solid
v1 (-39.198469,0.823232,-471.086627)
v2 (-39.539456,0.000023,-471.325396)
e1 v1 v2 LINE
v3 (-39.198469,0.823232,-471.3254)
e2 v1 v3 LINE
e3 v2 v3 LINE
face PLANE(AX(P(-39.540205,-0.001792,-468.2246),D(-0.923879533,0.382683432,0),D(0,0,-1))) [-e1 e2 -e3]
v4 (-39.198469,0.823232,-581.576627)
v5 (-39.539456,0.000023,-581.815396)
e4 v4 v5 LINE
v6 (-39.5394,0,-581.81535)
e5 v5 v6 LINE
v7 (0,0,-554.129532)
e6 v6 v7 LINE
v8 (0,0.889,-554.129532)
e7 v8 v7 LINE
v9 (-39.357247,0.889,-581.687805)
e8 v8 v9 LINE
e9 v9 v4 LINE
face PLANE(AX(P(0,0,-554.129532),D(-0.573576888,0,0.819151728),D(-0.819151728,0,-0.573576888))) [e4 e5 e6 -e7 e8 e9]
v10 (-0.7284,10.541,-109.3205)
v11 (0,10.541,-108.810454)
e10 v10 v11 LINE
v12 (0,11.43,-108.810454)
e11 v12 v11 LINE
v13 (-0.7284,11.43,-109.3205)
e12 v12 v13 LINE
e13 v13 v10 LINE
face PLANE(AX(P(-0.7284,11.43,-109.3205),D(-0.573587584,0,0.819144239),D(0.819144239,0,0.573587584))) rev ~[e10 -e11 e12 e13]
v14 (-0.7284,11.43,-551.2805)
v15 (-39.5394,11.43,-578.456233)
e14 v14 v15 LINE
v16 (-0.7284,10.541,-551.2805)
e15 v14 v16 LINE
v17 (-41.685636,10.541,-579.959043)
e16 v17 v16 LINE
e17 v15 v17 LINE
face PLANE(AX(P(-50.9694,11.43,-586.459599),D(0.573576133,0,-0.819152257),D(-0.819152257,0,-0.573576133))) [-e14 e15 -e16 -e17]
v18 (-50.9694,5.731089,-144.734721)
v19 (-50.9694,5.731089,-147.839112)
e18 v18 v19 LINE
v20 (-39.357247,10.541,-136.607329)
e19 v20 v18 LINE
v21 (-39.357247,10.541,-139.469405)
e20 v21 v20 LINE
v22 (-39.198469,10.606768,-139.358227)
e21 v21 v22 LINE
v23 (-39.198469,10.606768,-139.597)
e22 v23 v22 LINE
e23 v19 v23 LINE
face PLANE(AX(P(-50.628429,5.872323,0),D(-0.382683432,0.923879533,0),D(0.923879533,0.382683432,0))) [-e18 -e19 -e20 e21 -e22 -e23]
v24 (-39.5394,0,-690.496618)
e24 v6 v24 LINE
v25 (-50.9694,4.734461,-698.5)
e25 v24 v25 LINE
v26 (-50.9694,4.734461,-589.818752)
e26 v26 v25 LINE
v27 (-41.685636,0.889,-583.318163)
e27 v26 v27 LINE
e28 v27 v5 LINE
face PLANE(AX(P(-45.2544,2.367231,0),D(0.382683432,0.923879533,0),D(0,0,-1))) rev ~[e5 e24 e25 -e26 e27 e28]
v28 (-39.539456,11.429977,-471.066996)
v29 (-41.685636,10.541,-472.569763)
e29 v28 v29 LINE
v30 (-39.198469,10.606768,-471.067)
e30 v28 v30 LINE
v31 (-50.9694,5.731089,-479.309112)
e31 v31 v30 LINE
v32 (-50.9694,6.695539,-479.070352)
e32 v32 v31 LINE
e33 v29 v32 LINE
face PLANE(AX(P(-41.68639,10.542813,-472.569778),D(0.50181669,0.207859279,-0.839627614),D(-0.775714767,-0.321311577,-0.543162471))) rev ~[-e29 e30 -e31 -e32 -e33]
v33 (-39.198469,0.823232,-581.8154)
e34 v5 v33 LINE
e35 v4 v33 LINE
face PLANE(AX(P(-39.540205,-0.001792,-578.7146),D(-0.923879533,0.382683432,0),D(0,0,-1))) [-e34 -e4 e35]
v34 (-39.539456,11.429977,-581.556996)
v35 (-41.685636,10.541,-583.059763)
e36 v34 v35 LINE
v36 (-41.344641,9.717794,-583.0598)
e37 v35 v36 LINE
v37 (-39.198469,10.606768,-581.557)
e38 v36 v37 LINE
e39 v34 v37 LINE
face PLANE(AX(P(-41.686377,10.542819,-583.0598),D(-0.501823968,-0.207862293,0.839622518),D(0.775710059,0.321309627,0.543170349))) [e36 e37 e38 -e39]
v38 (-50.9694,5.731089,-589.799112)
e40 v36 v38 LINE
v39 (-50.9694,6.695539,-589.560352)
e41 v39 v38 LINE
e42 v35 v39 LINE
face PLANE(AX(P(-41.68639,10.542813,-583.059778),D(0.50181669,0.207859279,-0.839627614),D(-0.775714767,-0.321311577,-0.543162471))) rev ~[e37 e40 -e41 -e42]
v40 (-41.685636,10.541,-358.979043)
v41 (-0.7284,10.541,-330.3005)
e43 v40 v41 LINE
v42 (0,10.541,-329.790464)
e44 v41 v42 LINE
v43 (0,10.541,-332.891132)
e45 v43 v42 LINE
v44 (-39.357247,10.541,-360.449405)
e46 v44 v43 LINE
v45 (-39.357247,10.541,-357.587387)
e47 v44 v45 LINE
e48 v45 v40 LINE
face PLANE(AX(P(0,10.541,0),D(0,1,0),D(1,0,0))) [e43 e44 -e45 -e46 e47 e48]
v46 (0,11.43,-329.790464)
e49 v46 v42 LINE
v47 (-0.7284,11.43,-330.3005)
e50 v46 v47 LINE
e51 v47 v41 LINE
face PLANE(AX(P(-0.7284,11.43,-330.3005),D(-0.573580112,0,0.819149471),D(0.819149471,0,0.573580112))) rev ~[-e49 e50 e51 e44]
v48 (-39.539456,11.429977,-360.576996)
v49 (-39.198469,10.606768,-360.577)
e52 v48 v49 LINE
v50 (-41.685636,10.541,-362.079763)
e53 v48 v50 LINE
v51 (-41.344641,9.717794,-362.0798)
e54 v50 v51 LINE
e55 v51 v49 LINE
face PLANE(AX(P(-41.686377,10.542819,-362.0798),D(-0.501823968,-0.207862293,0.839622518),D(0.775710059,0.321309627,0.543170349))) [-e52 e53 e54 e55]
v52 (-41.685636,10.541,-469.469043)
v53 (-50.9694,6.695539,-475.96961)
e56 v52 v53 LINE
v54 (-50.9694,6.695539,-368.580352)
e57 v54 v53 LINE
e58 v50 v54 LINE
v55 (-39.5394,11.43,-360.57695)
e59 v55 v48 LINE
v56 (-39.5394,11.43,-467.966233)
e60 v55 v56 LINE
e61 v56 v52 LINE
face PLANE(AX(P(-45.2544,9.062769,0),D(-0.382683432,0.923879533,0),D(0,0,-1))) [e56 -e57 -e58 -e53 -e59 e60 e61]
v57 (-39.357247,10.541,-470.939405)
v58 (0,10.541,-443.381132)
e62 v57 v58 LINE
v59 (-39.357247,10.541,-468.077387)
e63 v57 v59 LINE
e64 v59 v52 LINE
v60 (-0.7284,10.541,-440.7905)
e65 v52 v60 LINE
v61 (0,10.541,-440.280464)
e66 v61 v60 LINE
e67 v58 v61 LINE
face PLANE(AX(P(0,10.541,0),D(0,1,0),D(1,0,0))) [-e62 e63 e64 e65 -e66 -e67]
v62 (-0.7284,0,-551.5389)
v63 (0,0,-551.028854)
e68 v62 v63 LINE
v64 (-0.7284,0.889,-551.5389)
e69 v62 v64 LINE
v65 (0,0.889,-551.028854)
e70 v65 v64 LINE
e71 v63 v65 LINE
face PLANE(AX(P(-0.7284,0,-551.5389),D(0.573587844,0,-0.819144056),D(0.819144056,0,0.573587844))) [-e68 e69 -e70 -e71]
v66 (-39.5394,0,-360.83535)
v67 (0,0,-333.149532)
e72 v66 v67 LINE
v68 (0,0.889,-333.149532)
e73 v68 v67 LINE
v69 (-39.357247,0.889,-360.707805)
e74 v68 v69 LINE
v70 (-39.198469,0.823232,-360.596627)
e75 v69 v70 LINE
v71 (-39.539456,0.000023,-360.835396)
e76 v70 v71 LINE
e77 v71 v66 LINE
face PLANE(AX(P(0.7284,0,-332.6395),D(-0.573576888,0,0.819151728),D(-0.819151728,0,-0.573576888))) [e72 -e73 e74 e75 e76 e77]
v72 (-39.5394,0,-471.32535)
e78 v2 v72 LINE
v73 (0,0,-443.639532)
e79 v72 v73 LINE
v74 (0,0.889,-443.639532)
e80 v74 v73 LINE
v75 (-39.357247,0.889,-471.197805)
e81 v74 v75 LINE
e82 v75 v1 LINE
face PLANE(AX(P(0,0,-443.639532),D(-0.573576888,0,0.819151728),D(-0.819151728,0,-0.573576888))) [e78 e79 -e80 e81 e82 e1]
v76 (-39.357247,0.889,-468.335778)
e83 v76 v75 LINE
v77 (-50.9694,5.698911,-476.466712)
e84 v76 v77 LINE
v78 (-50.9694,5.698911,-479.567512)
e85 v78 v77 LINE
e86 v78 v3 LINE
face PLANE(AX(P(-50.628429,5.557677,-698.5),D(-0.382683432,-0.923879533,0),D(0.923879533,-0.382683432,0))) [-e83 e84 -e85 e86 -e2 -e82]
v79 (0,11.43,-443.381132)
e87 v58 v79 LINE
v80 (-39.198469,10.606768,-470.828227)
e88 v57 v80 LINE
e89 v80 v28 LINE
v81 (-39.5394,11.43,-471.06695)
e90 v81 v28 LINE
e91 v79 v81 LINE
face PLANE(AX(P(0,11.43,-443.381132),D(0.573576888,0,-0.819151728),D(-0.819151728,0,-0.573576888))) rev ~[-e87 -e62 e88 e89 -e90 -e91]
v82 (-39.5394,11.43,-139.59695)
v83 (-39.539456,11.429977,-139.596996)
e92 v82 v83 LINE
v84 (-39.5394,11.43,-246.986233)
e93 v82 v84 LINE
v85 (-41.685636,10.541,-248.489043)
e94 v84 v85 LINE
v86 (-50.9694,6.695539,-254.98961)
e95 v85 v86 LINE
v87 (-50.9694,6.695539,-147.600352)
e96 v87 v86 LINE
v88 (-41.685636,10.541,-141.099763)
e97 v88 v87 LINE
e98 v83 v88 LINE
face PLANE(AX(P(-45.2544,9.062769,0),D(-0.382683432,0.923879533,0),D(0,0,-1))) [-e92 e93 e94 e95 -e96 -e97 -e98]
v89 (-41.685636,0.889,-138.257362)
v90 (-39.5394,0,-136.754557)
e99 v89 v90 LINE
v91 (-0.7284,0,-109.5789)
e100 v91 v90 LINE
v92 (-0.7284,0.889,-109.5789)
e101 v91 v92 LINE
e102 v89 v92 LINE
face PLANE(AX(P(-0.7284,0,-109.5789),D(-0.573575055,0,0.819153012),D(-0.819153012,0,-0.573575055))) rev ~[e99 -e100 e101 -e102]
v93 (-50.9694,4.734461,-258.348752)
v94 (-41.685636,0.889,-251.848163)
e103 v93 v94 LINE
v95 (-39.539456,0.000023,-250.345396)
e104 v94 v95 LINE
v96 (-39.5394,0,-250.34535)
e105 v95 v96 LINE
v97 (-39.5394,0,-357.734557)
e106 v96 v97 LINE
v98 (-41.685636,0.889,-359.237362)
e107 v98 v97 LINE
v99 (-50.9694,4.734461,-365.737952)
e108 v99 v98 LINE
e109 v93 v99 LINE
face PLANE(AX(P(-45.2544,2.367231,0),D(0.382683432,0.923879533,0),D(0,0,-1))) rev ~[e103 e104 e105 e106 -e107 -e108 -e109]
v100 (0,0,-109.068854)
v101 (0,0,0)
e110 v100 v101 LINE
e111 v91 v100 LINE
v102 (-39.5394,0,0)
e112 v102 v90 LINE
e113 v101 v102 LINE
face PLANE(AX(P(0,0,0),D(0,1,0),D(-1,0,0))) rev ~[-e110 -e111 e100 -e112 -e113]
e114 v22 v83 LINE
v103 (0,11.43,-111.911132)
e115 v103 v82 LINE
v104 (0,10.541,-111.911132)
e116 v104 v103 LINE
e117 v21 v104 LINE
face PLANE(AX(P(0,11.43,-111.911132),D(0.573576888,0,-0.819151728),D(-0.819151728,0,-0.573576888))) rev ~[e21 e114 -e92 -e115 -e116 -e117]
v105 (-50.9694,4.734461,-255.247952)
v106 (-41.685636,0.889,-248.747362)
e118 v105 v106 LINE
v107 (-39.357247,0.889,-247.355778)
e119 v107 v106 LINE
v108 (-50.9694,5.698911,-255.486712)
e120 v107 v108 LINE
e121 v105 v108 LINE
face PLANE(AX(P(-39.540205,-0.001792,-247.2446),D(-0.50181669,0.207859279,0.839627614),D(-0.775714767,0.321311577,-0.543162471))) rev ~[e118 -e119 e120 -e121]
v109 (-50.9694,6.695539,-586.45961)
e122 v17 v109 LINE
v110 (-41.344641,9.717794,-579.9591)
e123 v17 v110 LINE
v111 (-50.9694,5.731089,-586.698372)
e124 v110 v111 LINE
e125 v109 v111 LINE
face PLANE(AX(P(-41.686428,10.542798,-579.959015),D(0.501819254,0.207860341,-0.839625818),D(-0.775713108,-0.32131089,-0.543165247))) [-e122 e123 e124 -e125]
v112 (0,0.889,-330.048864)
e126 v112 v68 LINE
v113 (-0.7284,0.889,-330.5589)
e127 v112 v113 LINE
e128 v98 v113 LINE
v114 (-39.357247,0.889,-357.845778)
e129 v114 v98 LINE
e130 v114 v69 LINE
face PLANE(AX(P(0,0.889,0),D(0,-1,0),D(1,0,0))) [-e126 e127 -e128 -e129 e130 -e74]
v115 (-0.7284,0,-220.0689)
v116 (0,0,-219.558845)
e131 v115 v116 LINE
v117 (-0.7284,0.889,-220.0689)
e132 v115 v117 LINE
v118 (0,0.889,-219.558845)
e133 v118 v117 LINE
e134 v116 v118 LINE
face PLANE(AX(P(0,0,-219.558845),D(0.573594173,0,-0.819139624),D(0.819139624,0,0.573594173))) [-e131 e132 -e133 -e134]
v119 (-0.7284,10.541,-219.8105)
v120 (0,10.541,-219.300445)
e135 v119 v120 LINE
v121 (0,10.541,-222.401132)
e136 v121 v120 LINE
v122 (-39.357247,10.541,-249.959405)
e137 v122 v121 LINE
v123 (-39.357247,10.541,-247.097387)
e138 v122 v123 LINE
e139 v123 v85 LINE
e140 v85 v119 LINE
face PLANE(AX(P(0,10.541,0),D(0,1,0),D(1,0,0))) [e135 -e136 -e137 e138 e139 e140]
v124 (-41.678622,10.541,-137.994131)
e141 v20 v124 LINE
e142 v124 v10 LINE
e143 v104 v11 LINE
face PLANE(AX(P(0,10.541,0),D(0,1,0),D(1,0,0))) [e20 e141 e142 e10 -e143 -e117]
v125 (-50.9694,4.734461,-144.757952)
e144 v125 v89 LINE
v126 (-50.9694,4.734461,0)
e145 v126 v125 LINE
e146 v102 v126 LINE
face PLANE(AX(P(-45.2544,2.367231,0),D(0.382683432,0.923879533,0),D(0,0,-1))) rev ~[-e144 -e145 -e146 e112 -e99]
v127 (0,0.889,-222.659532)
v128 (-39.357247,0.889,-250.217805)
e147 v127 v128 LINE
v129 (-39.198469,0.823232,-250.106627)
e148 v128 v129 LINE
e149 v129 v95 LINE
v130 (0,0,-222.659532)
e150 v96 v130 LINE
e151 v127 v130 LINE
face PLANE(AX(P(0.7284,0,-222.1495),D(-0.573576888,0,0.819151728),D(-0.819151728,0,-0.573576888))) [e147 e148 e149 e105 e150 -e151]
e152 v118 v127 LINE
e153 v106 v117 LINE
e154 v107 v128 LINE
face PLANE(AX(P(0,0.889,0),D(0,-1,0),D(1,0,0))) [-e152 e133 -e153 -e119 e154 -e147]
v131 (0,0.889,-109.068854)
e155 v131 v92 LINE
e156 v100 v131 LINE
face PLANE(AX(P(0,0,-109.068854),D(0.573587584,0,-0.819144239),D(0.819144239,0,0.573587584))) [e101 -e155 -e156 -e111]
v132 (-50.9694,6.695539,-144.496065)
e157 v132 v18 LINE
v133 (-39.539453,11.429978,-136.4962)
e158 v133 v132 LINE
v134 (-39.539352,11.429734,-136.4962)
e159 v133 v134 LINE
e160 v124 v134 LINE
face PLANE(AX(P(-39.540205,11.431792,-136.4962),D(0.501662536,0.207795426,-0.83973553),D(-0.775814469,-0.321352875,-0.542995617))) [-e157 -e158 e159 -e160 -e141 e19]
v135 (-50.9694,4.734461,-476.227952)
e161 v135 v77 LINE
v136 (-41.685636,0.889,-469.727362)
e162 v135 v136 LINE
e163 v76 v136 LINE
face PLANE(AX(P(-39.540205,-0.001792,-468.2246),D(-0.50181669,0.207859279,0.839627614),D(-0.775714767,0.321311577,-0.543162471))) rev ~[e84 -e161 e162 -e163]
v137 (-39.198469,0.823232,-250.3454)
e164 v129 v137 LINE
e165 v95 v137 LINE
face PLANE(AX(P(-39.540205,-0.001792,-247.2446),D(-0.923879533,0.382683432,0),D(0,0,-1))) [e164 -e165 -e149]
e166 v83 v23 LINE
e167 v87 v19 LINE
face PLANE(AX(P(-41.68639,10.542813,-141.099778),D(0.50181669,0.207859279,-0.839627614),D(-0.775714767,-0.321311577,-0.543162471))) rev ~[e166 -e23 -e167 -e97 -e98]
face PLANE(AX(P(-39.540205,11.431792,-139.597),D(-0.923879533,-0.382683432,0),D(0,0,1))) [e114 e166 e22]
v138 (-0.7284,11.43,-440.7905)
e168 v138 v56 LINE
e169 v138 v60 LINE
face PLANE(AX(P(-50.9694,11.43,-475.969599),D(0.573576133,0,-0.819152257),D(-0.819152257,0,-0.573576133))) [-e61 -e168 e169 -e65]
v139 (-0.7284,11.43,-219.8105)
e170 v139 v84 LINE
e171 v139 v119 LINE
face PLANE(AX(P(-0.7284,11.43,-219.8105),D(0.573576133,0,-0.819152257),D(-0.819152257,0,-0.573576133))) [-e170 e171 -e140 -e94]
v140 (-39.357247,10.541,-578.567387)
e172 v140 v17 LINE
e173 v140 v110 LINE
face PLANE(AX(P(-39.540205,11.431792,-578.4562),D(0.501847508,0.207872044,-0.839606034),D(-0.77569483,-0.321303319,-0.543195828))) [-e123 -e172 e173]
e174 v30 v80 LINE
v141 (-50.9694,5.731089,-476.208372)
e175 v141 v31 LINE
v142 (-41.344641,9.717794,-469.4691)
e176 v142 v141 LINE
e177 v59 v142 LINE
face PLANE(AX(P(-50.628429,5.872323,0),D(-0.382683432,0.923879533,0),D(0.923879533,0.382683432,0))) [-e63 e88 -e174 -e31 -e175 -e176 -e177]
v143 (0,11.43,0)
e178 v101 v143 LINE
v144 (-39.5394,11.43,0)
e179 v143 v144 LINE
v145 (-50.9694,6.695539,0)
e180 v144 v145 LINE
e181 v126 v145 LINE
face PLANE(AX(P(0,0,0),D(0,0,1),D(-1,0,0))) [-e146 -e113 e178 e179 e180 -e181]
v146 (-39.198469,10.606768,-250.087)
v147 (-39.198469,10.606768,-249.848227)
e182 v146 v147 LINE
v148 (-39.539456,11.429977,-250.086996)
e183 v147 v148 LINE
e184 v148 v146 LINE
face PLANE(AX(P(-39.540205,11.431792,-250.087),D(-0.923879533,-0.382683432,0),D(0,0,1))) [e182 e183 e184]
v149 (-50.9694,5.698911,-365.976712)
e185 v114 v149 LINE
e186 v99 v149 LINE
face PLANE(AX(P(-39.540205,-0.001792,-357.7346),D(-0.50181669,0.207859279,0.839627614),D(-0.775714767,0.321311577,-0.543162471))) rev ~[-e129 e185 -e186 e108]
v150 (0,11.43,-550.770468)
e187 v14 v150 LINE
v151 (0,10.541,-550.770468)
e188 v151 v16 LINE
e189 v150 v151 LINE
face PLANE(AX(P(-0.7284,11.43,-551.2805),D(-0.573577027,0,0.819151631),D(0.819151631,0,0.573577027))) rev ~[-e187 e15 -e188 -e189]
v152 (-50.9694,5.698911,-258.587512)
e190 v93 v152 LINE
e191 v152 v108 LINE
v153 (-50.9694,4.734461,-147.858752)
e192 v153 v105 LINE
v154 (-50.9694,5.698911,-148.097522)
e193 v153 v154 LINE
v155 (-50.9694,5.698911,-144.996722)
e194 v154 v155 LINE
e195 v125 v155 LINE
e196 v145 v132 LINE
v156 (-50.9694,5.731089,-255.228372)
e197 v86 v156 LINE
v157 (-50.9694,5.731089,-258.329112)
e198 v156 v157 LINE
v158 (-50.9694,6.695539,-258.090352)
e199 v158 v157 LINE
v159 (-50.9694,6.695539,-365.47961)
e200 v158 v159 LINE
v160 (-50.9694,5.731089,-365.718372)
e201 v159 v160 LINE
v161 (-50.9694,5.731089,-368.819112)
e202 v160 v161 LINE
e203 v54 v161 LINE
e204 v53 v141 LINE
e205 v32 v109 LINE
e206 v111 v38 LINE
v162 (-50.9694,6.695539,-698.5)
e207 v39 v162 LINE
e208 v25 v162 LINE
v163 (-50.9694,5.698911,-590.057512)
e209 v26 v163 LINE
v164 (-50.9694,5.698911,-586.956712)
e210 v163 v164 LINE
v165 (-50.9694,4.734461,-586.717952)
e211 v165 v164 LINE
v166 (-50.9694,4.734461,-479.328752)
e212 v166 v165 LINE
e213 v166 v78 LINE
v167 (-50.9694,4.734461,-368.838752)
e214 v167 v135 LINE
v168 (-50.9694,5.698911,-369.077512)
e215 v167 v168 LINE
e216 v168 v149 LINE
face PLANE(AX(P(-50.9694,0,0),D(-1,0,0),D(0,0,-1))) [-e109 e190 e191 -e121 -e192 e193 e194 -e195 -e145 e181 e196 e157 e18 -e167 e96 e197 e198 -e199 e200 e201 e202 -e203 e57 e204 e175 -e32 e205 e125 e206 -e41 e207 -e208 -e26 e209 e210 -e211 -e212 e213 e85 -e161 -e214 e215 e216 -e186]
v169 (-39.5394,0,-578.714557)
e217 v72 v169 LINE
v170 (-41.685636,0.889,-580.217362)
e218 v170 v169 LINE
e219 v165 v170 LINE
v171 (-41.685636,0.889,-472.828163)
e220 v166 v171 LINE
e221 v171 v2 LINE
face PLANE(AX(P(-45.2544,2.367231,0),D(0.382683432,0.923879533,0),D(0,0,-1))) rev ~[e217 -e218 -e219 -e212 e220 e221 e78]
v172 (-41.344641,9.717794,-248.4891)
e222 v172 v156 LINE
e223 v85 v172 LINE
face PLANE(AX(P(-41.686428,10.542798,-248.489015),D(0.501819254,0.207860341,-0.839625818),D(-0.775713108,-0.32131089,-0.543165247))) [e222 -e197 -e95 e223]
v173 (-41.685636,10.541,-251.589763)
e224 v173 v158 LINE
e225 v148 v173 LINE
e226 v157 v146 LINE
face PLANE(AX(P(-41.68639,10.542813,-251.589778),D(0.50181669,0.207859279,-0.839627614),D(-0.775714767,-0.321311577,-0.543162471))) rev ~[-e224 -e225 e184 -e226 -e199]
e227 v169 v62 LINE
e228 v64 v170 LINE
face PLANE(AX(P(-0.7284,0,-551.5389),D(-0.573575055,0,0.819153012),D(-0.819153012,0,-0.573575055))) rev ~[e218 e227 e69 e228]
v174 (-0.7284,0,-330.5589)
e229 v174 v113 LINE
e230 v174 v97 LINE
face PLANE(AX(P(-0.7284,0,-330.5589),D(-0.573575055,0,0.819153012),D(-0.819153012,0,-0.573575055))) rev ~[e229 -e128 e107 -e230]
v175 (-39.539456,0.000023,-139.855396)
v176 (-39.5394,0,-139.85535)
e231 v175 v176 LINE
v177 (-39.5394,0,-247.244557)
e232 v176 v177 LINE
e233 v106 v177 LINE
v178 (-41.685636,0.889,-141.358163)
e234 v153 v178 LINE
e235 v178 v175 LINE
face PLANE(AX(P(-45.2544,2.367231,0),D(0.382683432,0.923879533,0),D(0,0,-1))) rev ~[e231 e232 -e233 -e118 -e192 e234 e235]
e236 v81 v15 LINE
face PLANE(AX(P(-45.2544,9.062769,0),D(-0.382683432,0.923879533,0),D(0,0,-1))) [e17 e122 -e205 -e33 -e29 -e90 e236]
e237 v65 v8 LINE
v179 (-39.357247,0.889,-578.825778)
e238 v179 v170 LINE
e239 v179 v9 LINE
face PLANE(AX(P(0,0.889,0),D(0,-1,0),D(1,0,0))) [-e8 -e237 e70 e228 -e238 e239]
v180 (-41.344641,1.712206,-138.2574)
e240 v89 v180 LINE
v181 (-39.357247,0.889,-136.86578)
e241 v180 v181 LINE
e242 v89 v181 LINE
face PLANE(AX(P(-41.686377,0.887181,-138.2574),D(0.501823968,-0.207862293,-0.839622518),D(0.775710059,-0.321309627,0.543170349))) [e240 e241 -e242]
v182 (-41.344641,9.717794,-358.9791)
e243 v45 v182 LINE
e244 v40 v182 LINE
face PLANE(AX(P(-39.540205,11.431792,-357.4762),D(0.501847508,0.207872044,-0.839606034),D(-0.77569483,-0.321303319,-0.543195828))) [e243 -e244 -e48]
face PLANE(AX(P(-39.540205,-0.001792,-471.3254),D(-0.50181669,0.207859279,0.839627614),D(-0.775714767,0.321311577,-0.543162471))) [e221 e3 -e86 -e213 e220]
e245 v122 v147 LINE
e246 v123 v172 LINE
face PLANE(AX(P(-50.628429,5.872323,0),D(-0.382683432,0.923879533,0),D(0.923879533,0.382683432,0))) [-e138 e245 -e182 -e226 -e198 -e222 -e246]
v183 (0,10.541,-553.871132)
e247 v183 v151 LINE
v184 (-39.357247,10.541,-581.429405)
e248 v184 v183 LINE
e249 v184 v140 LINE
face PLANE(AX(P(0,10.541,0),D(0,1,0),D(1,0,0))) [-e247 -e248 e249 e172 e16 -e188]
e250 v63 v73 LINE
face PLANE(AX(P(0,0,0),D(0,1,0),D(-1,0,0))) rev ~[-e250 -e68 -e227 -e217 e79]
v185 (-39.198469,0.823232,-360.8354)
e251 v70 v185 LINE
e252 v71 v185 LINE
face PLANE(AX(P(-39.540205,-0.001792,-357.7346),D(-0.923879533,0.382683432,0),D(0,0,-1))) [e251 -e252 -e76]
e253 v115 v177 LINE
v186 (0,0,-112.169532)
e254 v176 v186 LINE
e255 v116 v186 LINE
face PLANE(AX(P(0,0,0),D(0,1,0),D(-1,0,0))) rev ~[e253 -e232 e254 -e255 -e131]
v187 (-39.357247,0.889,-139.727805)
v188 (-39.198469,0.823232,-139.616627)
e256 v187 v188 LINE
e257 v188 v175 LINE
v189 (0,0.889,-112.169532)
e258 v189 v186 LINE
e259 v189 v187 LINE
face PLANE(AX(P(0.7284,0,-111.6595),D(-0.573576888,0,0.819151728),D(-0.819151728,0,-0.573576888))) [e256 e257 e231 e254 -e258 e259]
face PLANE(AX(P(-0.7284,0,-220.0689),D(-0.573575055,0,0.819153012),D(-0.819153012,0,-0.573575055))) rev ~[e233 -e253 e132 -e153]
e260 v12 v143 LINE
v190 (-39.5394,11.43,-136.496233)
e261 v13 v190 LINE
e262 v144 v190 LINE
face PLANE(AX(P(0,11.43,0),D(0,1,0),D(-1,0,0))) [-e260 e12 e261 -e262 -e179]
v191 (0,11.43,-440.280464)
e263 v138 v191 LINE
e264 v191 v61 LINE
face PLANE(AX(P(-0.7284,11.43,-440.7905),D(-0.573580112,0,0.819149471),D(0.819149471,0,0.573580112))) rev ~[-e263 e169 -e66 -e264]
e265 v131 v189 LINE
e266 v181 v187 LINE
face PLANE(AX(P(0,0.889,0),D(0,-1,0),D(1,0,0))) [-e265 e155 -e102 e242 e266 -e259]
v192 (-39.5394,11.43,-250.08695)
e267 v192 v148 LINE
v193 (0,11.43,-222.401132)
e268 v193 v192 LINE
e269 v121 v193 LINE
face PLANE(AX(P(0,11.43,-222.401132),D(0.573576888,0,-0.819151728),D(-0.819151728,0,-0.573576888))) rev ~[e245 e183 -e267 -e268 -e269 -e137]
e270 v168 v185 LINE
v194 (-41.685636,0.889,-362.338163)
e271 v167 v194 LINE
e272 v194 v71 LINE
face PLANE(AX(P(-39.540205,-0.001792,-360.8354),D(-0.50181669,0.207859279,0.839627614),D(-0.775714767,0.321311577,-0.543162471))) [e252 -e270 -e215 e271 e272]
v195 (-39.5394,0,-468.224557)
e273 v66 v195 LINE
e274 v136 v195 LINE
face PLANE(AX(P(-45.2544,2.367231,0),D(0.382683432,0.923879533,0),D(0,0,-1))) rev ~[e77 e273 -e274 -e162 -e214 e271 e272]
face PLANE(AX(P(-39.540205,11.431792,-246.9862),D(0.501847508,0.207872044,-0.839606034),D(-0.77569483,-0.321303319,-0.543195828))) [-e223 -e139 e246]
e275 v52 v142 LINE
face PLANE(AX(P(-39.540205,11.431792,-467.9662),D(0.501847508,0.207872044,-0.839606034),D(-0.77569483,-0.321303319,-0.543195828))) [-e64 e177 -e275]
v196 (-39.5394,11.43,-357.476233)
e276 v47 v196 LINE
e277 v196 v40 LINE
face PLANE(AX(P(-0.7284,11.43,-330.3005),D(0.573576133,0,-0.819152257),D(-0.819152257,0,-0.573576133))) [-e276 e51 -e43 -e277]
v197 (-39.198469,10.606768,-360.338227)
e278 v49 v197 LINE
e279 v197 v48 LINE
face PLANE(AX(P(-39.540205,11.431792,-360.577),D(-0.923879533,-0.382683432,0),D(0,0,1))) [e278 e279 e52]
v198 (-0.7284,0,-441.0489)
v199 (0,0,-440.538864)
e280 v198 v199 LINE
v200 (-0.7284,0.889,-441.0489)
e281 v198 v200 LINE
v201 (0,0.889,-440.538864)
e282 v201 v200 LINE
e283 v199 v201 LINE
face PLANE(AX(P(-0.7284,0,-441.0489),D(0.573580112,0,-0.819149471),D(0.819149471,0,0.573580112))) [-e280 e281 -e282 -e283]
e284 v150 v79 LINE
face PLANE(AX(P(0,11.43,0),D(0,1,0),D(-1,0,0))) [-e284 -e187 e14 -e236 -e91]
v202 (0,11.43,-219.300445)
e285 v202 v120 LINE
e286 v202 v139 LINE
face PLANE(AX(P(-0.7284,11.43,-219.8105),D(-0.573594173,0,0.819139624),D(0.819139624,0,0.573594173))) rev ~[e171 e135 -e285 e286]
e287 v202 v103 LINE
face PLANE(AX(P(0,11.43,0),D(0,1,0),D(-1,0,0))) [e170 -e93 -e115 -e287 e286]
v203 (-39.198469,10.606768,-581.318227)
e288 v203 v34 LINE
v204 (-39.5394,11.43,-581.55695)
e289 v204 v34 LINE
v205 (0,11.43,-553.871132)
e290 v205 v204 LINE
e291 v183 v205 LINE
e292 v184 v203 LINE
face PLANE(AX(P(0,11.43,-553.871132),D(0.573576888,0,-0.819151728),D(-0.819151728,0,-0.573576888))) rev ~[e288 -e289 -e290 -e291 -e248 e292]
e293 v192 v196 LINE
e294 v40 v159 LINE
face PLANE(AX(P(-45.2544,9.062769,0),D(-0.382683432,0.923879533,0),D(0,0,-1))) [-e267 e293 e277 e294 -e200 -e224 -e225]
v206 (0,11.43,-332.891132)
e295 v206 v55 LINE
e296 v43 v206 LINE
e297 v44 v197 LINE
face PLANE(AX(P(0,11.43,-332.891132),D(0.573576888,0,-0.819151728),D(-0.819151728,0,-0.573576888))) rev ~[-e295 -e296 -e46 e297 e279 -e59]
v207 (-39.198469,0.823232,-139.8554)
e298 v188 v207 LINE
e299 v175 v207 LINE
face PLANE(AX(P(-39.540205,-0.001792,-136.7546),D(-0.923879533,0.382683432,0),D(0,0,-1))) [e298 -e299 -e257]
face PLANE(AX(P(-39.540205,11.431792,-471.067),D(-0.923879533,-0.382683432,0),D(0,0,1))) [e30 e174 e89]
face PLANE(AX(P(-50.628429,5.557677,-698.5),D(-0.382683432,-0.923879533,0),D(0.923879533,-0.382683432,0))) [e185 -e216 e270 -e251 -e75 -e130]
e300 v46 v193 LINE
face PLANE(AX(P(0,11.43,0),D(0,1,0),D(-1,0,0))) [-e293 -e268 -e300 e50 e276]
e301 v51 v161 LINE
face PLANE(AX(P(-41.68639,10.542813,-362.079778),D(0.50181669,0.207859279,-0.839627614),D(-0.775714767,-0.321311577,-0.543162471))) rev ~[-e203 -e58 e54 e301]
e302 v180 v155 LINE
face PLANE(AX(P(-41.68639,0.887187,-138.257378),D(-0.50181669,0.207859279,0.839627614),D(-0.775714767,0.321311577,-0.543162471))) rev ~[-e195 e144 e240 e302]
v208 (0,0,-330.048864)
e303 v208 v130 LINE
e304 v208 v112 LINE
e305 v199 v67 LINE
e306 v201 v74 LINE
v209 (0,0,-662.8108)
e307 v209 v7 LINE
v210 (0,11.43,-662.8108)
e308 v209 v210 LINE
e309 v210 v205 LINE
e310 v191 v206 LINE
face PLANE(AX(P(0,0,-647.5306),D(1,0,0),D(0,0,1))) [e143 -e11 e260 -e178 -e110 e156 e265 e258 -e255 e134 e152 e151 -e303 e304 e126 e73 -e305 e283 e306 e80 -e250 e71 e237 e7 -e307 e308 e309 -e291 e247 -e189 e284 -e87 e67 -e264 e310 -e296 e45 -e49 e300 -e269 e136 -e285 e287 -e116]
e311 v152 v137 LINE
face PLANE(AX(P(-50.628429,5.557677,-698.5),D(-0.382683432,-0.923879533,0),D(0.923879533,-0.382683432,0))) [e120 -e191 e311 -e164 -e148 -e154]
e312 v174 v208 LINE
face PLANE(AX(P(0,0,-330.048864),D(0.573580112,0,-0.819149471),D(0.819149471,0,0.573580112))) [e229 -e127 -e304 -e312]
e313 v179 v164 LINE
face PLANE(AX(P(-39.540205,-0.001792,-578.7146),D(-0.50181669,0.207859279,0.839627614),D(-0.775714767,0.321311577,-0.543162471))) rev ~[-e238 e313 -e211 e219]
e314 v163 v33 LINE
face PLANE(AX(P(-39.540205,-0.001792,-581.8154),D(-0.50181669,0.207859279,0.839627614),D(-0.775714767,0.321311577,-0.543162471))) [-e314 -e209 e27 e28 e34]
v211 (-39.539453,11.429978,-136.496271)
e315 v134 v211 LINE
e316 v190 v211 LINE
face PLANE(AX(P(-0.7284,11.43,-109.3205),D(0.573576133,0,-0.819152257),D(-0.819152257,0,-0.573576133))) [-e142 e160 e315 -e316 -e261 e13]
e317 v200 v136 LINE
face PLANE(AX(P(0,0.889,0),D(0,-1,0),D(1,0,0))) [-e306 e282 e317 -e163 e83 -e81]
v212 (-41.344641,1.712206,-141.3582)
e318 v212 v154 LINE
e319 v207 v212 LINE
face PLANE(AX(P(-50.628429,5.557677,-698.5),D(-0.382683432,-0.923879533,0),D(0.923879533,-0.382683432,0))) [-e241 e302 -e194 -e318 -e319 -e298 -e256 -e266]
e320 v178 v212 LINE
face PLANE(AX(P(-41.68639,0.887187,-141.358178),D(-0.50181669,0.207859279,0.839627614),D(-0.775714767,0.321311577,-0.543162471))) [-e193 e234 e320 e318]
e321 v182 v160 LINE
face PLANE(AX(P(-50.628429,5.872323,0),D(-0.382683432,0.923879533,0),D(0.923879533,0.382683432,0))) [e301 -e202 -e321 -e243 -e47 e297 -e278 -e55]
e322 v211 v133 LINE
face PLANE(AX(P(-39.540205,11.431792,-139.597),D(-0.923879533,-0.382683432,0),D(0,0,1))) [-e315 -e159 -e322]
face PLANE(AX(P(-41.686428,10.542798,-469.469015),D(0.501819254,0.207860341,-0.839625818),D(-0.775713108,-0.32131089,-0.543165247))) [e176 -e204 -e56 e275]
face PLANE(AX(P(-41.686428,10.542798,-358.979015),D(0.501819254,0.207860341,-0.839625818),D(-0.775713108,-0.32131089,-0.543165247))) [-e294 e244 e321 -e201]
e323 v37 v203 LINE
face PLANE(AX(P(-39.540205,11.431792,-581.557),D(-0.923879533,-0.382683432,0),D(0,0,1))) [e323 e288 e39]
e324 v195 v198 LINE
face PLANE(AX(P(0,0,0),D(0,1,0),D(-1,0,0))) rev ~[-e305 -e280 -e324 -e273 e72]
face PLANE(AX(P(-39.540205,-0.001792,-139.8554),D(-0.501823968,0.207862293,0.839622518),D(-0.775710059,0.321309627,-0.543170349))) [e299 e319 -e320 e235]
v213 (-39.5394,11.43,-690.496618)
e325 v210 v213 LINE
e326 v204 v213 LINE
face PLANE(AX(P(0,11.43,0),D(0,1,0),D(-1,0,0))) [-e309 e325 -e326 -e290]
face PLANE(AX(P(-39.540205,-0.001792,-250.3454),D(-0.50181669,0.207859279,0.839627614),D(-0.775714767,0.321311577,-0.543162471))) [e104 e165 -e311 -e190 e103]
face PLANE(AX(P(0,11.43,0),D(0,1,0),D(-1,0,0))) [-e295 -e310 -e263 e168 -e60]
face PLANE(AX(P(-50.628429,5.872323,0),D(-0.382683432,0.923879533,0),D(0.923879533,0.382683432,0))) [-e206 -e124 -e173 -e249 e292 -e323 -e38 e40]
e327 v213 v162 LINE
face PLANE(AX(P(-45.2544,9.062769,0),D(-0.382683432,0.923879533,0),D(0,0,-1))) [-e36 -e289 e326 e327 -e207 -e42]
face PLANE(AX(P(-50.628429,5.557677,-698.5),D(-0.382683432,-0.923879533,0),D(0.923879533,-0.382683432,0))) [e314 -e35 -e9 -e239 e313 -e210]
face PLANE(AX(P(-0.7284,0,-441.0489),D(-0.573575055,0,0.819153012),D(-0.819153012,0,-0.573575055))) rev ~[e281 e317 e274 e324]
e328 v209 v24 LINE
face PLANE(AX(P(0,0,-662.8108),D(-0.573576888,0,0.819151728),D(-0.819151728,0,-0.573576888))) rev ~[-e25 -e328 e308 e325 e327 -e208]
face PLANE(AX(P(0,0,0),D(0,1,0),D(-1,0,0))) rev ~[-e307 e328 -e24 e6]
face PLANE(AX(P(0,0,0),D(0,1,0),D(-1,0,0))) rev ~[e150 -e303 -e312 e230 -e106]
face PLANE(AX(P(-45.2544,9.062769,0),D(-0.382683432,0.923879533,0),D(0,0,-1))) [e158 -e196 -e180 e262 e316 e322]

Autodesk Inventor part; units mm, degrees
ref_plane "YZ Plane" through (0, 0, 0) normal (1, 0, 0) x (0, 1, 0)
ref_plane "XZ Plane" through (0, 0, 0) normal (0, 1, 0) x (-1, 0, 0)
ref_plane "XY Plane" through (0, 0, 0) normal (0, 0, 1) x (1, 0, 0)
sketch "Sketch1" plane through (0, 0, 0) normal (0, 1, 0) x (-1, 0, 0)
  line L0 (0, 0) -> (50.9694, 0)
  line L1 (50.9694, 0) -> (50.9694, -698.5)
  line L2 (0, -662.8108) -> (0, 0)
  line L3 (50.9694, -698.5) -> (133.3543, -698.5) construction
  line L4 (0, -647.5306) -> (0, -662.8108)
  line L5 (0, -662.8108) -> (50.9694, -698.5)
  dimension "d0" = 698.5
  dimension "d10" = 55
extrude "Extrusion1" add sketch "Sketch1" along normal blind 11.43
chamfer "Chamfer1" distance 11.43 angle 22.5 1 edges at (-50.9694, 11.43, -349.25) measured on face at (-33.9796, 11.43, -453.7703)
chamfer "Chamfer2" distance 11.43 angle 22.5 1 edges at (-50.9694, 0, -349.25) measured on face at (-33.9796, 0, -453.7703)
sketch "Sketch2" plane through (0, 11.43, 0) normal (0, 1, 0) x (1, 0, 0)
  line L0 (0, 0) -> (0, 662.8108) projected
  line L1 (0, 662.8108) -> (-39.5394, 690.4966) projected
  line L2 (0, 0) -> (0, 662.8108)
  line L3 (0, 662.8108) -> (0, 552.3208)
  line L4 (0, 552.3208) -> (0, 441.8308)
  line L5 (0, 441.8308) -> (0, 331.3408)
  line L6 (0, 331.3408) -> (0, 220.8508)
  line L7 (0, 220.8508) -> (0, 110.3608)
  line L8 (0, 110.3608) -> (0, -0.1292)
  line L9 (-50.9694, 698.5) -> (-50.9694, 0) projected
  line L10 (0, 552.3208) -> (62.2222, 552.3208) construction
  line L11 (0, 441.8308) -> (75.6755, 441.8308) construction
  line L12 (0, 331.3408) -> (96.3167, 331.3408) construction
  line L13 (0, 220.8508) -> (100.8131, 220.8508) construction
  line L14 (0, 110.3608) -> (129.8585, 110.3608) construction
  line L15 (0.7284, 553.3611) -> (-50.241, 589.0503)
  line L16 (-0.7284, 551.2805) -> (-51.6979, 586.9697)
  line L17 (0.7284, 442.8711) -> (-50.241, 478.5603)
  line L18 (-0.7284, 440.7905) -> (-51.6979, 476.4797)
  line L19 (0.7284, 332.3811) -> (-50.241, 368.0703)
  line L20 (-0.7284, 330.3005) -> (-51.6979, 365.9897)
  line L21 (0.7284, 221.8911) -> (-50.241, 257.5803)
  line L22 (-0.7284, 219.8105) -> (-51.6979, 255.4997)
  line L23 (0.7284, 111.4011) -> (-50.241, 147.0903)
  line L24 (-0.7284, 109.3205) -> (-51.6979, 145.0097)
  line L25 (-55.7095, 150.6945) -> (-51.6979, 145.0097)
  line L26 (6.2736, 109.3205) -> (0.7284, 111.4011)
  line L27 (4.7871, 219.8105) -> (0.7284, 221.8911)
  line L28 (-50.241, 257.5803) -> (-56.0233, 261.6292)
  line L29 (-56.0233, 261.6292) -> (-51.6979, 255.4997)
  line L30 (-0.7284, 109.3205) -> (2.432, 107.1075)
  line L31 (2.432, 107.1075) -> (6.2736, 109.3205)
  line L32 (-50.241, 147.0903) -> (-53.1322, 149.1147)
  line L33 (-53.1322, 149.1147) -> (-55.7095, 150.6945)
  line L34 (-0.7284, 219.8105) -> (1.0647, 218.5549)
  line L35 (1.0647, 218.5549) -> (4.7871, 219.8105)
  line L36 (-0.7284, 330.3005) -> (6.2736, 325.3976)
  line L37 (6.2736, 325.3976) -> (0.7284, 332.3811)
  line L38 (-50.241, 368.0703) -> (-56.0233, 372.1192)
  line L39 (-56.0233, 372.1192) -> (-51.6979, 365.9897)
  line L40 (-0.7284, 440.7905) -> (6.2736, 435.8876)
  line L41 (6.2736, 435.8876) -> (0.7284, 442.8711)
  line L42 (-50.241, 478.5603) -> (-56.4046, 482.8761)
  line L43 (-56.4046, 482.8761) -> (-51.6979, 476.4797)
  line L44 (-0.7284, 551.2805) -> (4.3528, 547.7226)
  line L45 (4.3528, 547.7226) -> (0.7284, 553.3611)
  line L46 (-50.241, 589.0503) -> (-53.8606, 591.5848)
  line L47 (-53.8606, 591.5848) -> (-51.6979, 586.9697)
  dimension "d11" = 110.49
  dimension "d12" = 110.49
  dimension "d13" = 110.49
  dimension "d14" = 110.49
  dimension "d15" = 110.49
  dimension "d16" = 110.49
sketch "Sketch3" plane through (0, 0, 0) normal (0, -1, 0) x (1, 0, 0)
  line L0 (0, 0) -> (0, 662.8108)
  line L1 (0, 662.8108) -> (-39.5394, 690.4966)
  line L2 (0, 0) -> (0, 662.8108)
  line L3 (0, 662.8108) -> (0, 552.3208)
  line L4 (0, 552.3208) -> (0, 441.8308)
  line L5 (0, 441.8308) -> (0, 331.3408)
  line L6 (0, 331.3408) -> (0, 220.8508)
  line L7 (0, 220.8508) -> (0, 110.3608)
  line L8 (0, 110.3608) -> (0, -0.1292)
  line L9 (-50.9694, 698.5) -> (-50.9694, 0)
  line L10 (0, 552.3208) -> (62.2222, 552.3208) construction
  line L11 (0, 441.8308) -> (75.6755, 441.8308) construction
  line L12 (0, 331.3408) -> (96.3167, 331.3408) construction
  line L13 (0, 220.8508) -> (100.8131, 220.8508) construction
  line L14 (0, 110.3608) -> (129.8585, 110.3608) construction
  line L15 (0.7284, 553.3611) -> (-50.241, 589.0503)
  line L16 (-0.7284, 551.2805) -> (-51.6979, 586.9697)
  line L17 (0.7284, 442.8711) -> (-50.241, 478.5603)
  line L18 (-0.7284, 440.7905) -> (-51.6979, 476.4797)
  line L19 (0.7284, 332.3811) -> (-50.241, 368.0703)
  line L20 (-0.7284, 330.3005) -> (-51.6979, 365.9897)
  line L21 (0.7284, 221.8911) -> (-50.241, 257.5803)
  line L22 (-0.7284, 219.8105) -> (-51.6979, 255.4997)
  line L23 (0.7284, 111.4011) -> (-50.241, 147.0903)
  line L24 (-0.7284, 109.3205) -> (-51.6979, 145.0097)
  line L25 (-55.7095, 150.6945) -> (-51.6979, 145.0097)
  line L26 (6.2736, 109.3205) -> (0.7284, 111.4011)
  line L27 (4.7871, 219.8105) -> (0.7284, 221.8911)
  line L28 (-50.241, 257.5803) -> (-56.0233, 261.6292)
  line L29 (-56.0233, 261.6292) -> (-51.6979, 255.4997)
  line L30 (-0.7284, 109.3205) -> (2.432, 107.1075)
  line L31 (2.432, 107.1075) -> (6.2736, 109.3205)
  line L32 (-50.241, 147.0903) -> (-53.1322, 149.1147)
  line L33 (-53.1322, 149.1147) -> (-55.7095, 150.6945)
  line L34 (-0.7284, 219.8105) -> (1.0647, 218.5549)
  line L35 (1.0647, 218.5549) -> (4.7871, 219.8105)
  line L36 (-0.7284, 330.3005) -> (6.2736, 325.3976)
  line L37 (6.2736, 325.3976) -> (0.7284, 332.3811)
  line L38 (-50.241, 368.0703) -> (-56.0233, 372.1192)
  line L39 (-56.0233, 372.1192) -> (-51.6979, 365.9897)
  line L40 (-0.7284, 440.7905) -> (6.2736, 435.8876)
  line L41 (6.2736, 435.8876) -> (0.7284, 442.8711)
  line L42 (-50.241, 478.5603) -> (-56.4046, 482.8761)
  line L43 (-56.4046, 482.8761) -> (-51.6979, 476.4797)
  line L44 (-0.7284, 551.2805) -> (4.3528, 547.7226)
  line L45 (4.3528, 547.7226) -> (0.7284, 553.3611)
  line L46 (-50.241, 589.0503) -> (-53.8606, 591.5848)
  line L47 (-53.8606, 591.5848) -> (-51.6979, 586.9697)
  line L48 (103.6669, -0.1292) -> (-162.6593, -0.1292)
  line L49 (0, -442.0892) -> (0, -331.5992)
  line L50 (-50.9694, -698.7584) -> (-50.9694, -0.2584)
  line L51 (0, -0.2584) -> (0, -663.0692)
  line L52 (0, -0.2584) -> (0, -663.0692)
  line L53 (0, -331.5992) -> (0, -221.1092)
  line L54 (0, -110.6192) -> (0, -0.1292)
  line L55 (-0.7284, -441.0489) -> (6.2736, -436.146)
  line L56 (6.2736, -436.146) -> (0.7284, -443.1295)
  line L57 (-0.7284, -441.0489) -> (-51.6979, -476.738)
  line L58 (0.7284, -443.1295) -> (-50.241, -478.8187)
  line L59 (-50.241, -478.8187) -> (-56.4046, -483.1345)
  line L60 (-56.4046, -483.1345) -> (-51.6979, -476.738)
  line L61 (0, -552.5792) -> (0, -442.0892)
  line L62 (-0.7284, -551.5389) -> (4.3528, -547.9809)
  line L63 (-0.7284, -551.5389) -> (-51.6979, -587.228)
  line L64 (0.7284, -553.6195) -> (-50.241, -589.3087)
  line L65 (-53.8606, -591.8432) -> (-51.6979, -587.228)
  line L66 (0, -663.0692) -> (-39.5394, -690.755)
  line L67 (4.3528, -547.9809) -> (0.7284, -553.6195)
  line L68 (0, -552.5792) -> (62.2222, -552.5792) construction
  line L69 (0, -663.0692) -> (0, -552.5792)
  line L70 (-50.241, -589.3087) -> (-53.8606, -591.8432)
  line L71 (0, -221.1092) -> (0, -110.6192)
  line L72 (4.7871, -220.0689) -> (0.7284, -222.1495)
  line L73 (-0.7284, -220.0689) -> (1.0647, -218.8133)
  line L74 (1.0647, -218.8133) -> (4.7871, -220.0689)
  line L75 (6.2736, -109.5789) -> (0.7284, -111.6595)
  line L76 (-0.7284, -109.5789) -> (2.432, -107.3659)
  line L77 (2.432, -107.3659) -> (6.2736, -109.5789)
  line L78 (0, -442.0892) -> (75.6755, -442.0892) construction
  line L79 (0, -331.5992) -> (96.3167, -331.5992) construction
  line L80 (-50.241, -368.3287) -> (-56.0233, -372.3775)
  line L81 (0.7284, -332.6395) -> (-50.241, -368.3287)
  line L82 (-0.7284, -330.5589) -> (-51.6979, -366.248)
  line L83 (-0.7284, -330.5589) -> (6.2736, -325.656)
  line L84 (6.2736, -325.656) -> (0.7284, -332.6395)
  line L85 (-56.0233, -372.3775) -> (-51.6979, -366.248)
  line L86 (-0.7284, -109.5789) -> (-51.6979, -145.268)
  line L87 (0.7284, -111.6595) -> (-50.241, -147.3487)
  line L88 (-50.241, -147.3487) -> (-53.1322, -149.3731)
  line L89 (-55.7095, -150.9528) -> (-51.6979, -145.268)
  line L90 (-53.1322, -149.3731) -> (-55.7095, -150.9528)
  line L91 (-0.7284, -220.0689) -> (-51.6979, -255.758)
  line L92 (0.7284, -222.1495) -> (-50.241, -257.8387)
  line L93 (-50.241, -257.8387) -> (-56.0233, -261.8875)
  line L94 (-56.0233, -261.8875) -> (-51.6979, -255.758)
  dimension "d32" = 110.49
  dimension "d33" = 110.49
  dimension "d34" = 110.49
  dimension "d35" = 110.49
  dimension "d36" = 110.49
  dimension "d37" = 110.49
extrude "Extrusion2" cut sketch "Sketch2" against normal blind 0.889 contours L30 L24 L9 L32 L23 L0 | L0 L23 L26 L31 L30 | L24 L25 L33 L32 L9 | L34 L22 L9 L28 L21 L0 | L0 L21 L27 L35 L34 | L22 L29 L28 L9 | L36 L20 L9 L38 L19 L0 | L0 L19 L37 L36 | L20 L39 L38 L9 | L18 L43 L42 L9 | L9 L42 L17 L0 L40 L18 | L0 L17 L41 L40 | L16 L47 L46 L9 | L9 L46 L15 L0 L44 L16 | L0 L15 L45 L44
extrude "Extrusion3" cut sketch "Sketch3" against normal blind 0.889 contours L76 L77 L75 L87 L51 | L51 L87 L88 L50 L86 L76 | L50 L88 L90 L89 L86 | L73 L74 L72 L92 L51 | L51 L92 L93 L50 L91 L73 | L50 L93 L94 L91 | L83 L84 L81 L49 L51 | L51 L49 L81 L80 L50 L82 L83 | L50 L80 L85 L82 | L57 L55 L49 L51 L58 L59 L50 | L50 L59 L60 L57 | L55 L56 L58 L51 L49 | L63 L62 L51 L64 L70 L50 | L50 L70 L65 L63 | L62 L67 L64 L51
sketch "Sketch8" plane through (-50.9694, 4.7345, -698.5) normal (-0.3827, -0.9239, 0) x (0.9239, -0.3827, 0)
  line L0 (10.0487, 560.2426) -> (12.3717, 561.7454) projected
  line L1 (12.3717, 561.7454) -> (-8.9548, 547.9491)
  line L2 (12.3717, 558.6446) -> (10.0487, 557.1418) projected
  line L3 (12.3717, 558.6446) -> (-8.9548, 544.8483)
  line L4 (-8.9548, 544.8483) -> (-8.6984, 548.5745)
  line L5 (48.9014, 475.8404) -> (12.3717, 448.1546) projected
  line L6 (12.3717, 448.1546) -> (-8.9548, 434.3583)
  line L7 (12.3717, 448.1546) -> (10.0487, 446.6518) projected
  line L8 (12.3717, 451.2554) -> (12.3717, 558.6446) projected
  line L9 (12.3717, 451.2554) -> (-8.9548, 437.4591)
  line L10 (10.0487, 449.7526) -> (12.3717, 451.2554) projected
  line L11 (12.3717, 340.7654) -> (12.3717, 448.1546) projected
  line L12 (12.3717, 340.7654) -> (-8.9548, 326.9691)
  line L13 (10.0487, 339.2626) -> (12.3717, 340.7654) projected
  line L14 (12.3717, 230.2754) -> (12.3717, 337.6646) projected
  line L15 (12.3717, 337.6646) -> (-8.9548, 323.8683)
  line L16 (12.3717, 230.2754) -> (-8.9548, 216.4791)
  line L17 (10.0487, 228.7726) -> (12.3717, 230.2754) projected
  line L18 (12.3717, 119.7854) -> (12.3717, 227.1746) projected
  line L19 (12.3717, 227.1746) -> (-8.9548, 213.3783)
  line L20 (12.3717, 227.1746) -> (10.0487, 225.6718) projected
  line L21 (12.3717, 119.7854) -> (-8.9548, 105.9891)
  line L22 (12.3717, 8.0034) -> (12.3717, 116.6846) projected
  line L23 (12.3717, 116.6846) -> (-8.9548, 102.8883)
  line L24 (-5.4774, 100.6137) -> (-5.4774, 558.6446)
  line L25 (0, 698.5) -> (0, 0) projected
  line L26 (12.3717, 561.7454) -> (12.3717, 698.5) projected
  line L27 (12.3717, 566.5432) -> (12.3717, 51.1838)
  point P0 (48.9014, 698.5)
  point P1 (12.3717, 561.7454)
  point P2 (-5.4774, 550.1987)
  point P3 (-5.4774, 547.0979)
  point P4 (12.3717, 448.1546)
  point P5 (-5.4774, 439.7087)
  point P6 (-5.4774, 436.6079)
  point P7 (-5.4774, 218.7287)
  point P8 (-5.4774, 215.6279)
  point P9 (-5.4774, 108.2387)
  point P10 (-5.4774, 105.1379)
  point P11 (-5.4774, 329.2187)
  point P12 (-5.4774, 326.1179)
  dimension "d42" = 25.4
  dimension "d43" = 25.4
  dimension "d44" = 25.4
  dimension "d45" = 25.4
  dimension "d46" = 25.4
  dimension "d47" = 25.4
  dimension "d48" = 25.4
  dimension "d49" = 25.4
  dimension "d50" = 25.4
  dimension "d51" = 25.4
extrude "Extrusion4" cut sketch "Sketch8" against normal blind 0.889 contours L0 L27 L2 L3 L25 L1 | L25 L3 L24 L1 | L27 L6 L25 L9 | L25 L6 L24 L9 | L27 L15 L25 L12 | L25 L15 L24 L12 | L27 L19 L25 L16 | L25 L19 L24 L16 | L27 L23 L25 L21 | L25 L23 L24 L21
sketch "Sketch9" plane through (-50.9694, 6.6955, 0) normal (-0.3827, 0.9239, 0) x (0.9239, 0.3827, 0)
  line L0 (12.3717, 0) -> (12.3717, 136.4962) projected
  line L1 (12.3717, 136.4962) -> (-8.9576, 150.2883)
  line L2 (12.3717, 139.597) -> (12.3717, 246.9862) projected
  line L3 (12.3717, 139.597) -> (-8.9548, 153.3933)
  line L4 (10.0487, 141.0998) -> (12.3717, 139.597) projected
  line L5 (12.3717, 246.9862) -> (10.0487, 248.4891) projected
  line L6 (12.3717, 246.9862) -> (-8.9548, 260.7826)
  line L7 (12.3717, 250.087) -> (12.3717, 357.4762) projected
  line L8 (12.3717, 250.087) -> (-8.9548, 263.8833)
  line L9 (10.0487, 251.5898) -> (12.3717, 250.087) projected
  line L10 (12.3717, 357.4762) -> (10.0487, 358.9791) projected
  line L11 (12.3717, 357.4762) -> (-8.9548, 371.2726)
  line L12 (10.0487, 362.0798) -> (12.3717, 360.577) projected
  line L13 (12.3717, 360.577) -> (-8.9548, 374.3733)
  line L14 (12.3717, 467.9662) -> (10.0487, 469.4691) projected
  line L15 (12.3717, 467.9662) -> (-8.9548, 481.7626)
  line L16 (12.3717, 471.067) -> (-8.9548, 484.8633)
  line L17 (10.0487, 472.5698) -> (12.3717, 471.067) projected
  line L18 (12.3717, 578.4562) -> (10.0487, 579.9591) projected
  line L19 (12.3717, 578.4562) -> (-8.9548, 592.2526)
  line L20 (10.0487, 583.0598) -> (12.3717, 581.557) projected
  line L21 (12.3717, 581.557) -> (-8.9548, 595.3533)
  line L22 (12.3717, 581.557) -> (12.3717, 690.4966) projected
  line L23 (12.3717, 590.3666) -> (12.3717, 104.1436)
  line L24 (-2.7877, 113.0522) -> (-2.7877, 598.5214)
  point P0 (44.5273, 0)
  point P1 (-2.7877, 591.3638)
  point P2 (-2.7877, 588.263)
  point P3 (12.3717, 578.4562)
  point P4 (12.3717, 581.557)
  point P5 (-2.7877, 480.8738)
  point P6 (-2.7877, 477.773)
  point P7 (12.3717, 471.067)
  point P8 (-2.7877, 370.3838)
  point P9 (-2.7877, 367.283)
  point P10 (12.3717, 357.4762)
  point P11 (-2.7877, 259.8938)
  point P12 (-2.7877, 256.793)
  point P13 (-2.7877, 149.4038)
  point P14 (-2.7877, 146.2987)
  dimension "d54" = 25.4
  dimension "d55" = 25.4
  dimension "d56" = 25.4
  dimension "d57" = 25.4
  dimension "d58" = 25.4
  dimension "d59" = 25.4
  dimension "d60" = 25.4
  dimension "d61" = 25.4
  dimension "d62" = 25.4
  dimension "d63" = 25.4
extrude "Extrusion5" cut sketch "Sketch9" against normal blind 0.889 contours L1 L24 L3 L23 | L5 L6 L24 L8 L23 | L10 L11 L24 L13 L12 L23 | L14 L15 L24 L16 L23 | L18 L19 L24 L21 L20 L23
properties part number "blade a."
